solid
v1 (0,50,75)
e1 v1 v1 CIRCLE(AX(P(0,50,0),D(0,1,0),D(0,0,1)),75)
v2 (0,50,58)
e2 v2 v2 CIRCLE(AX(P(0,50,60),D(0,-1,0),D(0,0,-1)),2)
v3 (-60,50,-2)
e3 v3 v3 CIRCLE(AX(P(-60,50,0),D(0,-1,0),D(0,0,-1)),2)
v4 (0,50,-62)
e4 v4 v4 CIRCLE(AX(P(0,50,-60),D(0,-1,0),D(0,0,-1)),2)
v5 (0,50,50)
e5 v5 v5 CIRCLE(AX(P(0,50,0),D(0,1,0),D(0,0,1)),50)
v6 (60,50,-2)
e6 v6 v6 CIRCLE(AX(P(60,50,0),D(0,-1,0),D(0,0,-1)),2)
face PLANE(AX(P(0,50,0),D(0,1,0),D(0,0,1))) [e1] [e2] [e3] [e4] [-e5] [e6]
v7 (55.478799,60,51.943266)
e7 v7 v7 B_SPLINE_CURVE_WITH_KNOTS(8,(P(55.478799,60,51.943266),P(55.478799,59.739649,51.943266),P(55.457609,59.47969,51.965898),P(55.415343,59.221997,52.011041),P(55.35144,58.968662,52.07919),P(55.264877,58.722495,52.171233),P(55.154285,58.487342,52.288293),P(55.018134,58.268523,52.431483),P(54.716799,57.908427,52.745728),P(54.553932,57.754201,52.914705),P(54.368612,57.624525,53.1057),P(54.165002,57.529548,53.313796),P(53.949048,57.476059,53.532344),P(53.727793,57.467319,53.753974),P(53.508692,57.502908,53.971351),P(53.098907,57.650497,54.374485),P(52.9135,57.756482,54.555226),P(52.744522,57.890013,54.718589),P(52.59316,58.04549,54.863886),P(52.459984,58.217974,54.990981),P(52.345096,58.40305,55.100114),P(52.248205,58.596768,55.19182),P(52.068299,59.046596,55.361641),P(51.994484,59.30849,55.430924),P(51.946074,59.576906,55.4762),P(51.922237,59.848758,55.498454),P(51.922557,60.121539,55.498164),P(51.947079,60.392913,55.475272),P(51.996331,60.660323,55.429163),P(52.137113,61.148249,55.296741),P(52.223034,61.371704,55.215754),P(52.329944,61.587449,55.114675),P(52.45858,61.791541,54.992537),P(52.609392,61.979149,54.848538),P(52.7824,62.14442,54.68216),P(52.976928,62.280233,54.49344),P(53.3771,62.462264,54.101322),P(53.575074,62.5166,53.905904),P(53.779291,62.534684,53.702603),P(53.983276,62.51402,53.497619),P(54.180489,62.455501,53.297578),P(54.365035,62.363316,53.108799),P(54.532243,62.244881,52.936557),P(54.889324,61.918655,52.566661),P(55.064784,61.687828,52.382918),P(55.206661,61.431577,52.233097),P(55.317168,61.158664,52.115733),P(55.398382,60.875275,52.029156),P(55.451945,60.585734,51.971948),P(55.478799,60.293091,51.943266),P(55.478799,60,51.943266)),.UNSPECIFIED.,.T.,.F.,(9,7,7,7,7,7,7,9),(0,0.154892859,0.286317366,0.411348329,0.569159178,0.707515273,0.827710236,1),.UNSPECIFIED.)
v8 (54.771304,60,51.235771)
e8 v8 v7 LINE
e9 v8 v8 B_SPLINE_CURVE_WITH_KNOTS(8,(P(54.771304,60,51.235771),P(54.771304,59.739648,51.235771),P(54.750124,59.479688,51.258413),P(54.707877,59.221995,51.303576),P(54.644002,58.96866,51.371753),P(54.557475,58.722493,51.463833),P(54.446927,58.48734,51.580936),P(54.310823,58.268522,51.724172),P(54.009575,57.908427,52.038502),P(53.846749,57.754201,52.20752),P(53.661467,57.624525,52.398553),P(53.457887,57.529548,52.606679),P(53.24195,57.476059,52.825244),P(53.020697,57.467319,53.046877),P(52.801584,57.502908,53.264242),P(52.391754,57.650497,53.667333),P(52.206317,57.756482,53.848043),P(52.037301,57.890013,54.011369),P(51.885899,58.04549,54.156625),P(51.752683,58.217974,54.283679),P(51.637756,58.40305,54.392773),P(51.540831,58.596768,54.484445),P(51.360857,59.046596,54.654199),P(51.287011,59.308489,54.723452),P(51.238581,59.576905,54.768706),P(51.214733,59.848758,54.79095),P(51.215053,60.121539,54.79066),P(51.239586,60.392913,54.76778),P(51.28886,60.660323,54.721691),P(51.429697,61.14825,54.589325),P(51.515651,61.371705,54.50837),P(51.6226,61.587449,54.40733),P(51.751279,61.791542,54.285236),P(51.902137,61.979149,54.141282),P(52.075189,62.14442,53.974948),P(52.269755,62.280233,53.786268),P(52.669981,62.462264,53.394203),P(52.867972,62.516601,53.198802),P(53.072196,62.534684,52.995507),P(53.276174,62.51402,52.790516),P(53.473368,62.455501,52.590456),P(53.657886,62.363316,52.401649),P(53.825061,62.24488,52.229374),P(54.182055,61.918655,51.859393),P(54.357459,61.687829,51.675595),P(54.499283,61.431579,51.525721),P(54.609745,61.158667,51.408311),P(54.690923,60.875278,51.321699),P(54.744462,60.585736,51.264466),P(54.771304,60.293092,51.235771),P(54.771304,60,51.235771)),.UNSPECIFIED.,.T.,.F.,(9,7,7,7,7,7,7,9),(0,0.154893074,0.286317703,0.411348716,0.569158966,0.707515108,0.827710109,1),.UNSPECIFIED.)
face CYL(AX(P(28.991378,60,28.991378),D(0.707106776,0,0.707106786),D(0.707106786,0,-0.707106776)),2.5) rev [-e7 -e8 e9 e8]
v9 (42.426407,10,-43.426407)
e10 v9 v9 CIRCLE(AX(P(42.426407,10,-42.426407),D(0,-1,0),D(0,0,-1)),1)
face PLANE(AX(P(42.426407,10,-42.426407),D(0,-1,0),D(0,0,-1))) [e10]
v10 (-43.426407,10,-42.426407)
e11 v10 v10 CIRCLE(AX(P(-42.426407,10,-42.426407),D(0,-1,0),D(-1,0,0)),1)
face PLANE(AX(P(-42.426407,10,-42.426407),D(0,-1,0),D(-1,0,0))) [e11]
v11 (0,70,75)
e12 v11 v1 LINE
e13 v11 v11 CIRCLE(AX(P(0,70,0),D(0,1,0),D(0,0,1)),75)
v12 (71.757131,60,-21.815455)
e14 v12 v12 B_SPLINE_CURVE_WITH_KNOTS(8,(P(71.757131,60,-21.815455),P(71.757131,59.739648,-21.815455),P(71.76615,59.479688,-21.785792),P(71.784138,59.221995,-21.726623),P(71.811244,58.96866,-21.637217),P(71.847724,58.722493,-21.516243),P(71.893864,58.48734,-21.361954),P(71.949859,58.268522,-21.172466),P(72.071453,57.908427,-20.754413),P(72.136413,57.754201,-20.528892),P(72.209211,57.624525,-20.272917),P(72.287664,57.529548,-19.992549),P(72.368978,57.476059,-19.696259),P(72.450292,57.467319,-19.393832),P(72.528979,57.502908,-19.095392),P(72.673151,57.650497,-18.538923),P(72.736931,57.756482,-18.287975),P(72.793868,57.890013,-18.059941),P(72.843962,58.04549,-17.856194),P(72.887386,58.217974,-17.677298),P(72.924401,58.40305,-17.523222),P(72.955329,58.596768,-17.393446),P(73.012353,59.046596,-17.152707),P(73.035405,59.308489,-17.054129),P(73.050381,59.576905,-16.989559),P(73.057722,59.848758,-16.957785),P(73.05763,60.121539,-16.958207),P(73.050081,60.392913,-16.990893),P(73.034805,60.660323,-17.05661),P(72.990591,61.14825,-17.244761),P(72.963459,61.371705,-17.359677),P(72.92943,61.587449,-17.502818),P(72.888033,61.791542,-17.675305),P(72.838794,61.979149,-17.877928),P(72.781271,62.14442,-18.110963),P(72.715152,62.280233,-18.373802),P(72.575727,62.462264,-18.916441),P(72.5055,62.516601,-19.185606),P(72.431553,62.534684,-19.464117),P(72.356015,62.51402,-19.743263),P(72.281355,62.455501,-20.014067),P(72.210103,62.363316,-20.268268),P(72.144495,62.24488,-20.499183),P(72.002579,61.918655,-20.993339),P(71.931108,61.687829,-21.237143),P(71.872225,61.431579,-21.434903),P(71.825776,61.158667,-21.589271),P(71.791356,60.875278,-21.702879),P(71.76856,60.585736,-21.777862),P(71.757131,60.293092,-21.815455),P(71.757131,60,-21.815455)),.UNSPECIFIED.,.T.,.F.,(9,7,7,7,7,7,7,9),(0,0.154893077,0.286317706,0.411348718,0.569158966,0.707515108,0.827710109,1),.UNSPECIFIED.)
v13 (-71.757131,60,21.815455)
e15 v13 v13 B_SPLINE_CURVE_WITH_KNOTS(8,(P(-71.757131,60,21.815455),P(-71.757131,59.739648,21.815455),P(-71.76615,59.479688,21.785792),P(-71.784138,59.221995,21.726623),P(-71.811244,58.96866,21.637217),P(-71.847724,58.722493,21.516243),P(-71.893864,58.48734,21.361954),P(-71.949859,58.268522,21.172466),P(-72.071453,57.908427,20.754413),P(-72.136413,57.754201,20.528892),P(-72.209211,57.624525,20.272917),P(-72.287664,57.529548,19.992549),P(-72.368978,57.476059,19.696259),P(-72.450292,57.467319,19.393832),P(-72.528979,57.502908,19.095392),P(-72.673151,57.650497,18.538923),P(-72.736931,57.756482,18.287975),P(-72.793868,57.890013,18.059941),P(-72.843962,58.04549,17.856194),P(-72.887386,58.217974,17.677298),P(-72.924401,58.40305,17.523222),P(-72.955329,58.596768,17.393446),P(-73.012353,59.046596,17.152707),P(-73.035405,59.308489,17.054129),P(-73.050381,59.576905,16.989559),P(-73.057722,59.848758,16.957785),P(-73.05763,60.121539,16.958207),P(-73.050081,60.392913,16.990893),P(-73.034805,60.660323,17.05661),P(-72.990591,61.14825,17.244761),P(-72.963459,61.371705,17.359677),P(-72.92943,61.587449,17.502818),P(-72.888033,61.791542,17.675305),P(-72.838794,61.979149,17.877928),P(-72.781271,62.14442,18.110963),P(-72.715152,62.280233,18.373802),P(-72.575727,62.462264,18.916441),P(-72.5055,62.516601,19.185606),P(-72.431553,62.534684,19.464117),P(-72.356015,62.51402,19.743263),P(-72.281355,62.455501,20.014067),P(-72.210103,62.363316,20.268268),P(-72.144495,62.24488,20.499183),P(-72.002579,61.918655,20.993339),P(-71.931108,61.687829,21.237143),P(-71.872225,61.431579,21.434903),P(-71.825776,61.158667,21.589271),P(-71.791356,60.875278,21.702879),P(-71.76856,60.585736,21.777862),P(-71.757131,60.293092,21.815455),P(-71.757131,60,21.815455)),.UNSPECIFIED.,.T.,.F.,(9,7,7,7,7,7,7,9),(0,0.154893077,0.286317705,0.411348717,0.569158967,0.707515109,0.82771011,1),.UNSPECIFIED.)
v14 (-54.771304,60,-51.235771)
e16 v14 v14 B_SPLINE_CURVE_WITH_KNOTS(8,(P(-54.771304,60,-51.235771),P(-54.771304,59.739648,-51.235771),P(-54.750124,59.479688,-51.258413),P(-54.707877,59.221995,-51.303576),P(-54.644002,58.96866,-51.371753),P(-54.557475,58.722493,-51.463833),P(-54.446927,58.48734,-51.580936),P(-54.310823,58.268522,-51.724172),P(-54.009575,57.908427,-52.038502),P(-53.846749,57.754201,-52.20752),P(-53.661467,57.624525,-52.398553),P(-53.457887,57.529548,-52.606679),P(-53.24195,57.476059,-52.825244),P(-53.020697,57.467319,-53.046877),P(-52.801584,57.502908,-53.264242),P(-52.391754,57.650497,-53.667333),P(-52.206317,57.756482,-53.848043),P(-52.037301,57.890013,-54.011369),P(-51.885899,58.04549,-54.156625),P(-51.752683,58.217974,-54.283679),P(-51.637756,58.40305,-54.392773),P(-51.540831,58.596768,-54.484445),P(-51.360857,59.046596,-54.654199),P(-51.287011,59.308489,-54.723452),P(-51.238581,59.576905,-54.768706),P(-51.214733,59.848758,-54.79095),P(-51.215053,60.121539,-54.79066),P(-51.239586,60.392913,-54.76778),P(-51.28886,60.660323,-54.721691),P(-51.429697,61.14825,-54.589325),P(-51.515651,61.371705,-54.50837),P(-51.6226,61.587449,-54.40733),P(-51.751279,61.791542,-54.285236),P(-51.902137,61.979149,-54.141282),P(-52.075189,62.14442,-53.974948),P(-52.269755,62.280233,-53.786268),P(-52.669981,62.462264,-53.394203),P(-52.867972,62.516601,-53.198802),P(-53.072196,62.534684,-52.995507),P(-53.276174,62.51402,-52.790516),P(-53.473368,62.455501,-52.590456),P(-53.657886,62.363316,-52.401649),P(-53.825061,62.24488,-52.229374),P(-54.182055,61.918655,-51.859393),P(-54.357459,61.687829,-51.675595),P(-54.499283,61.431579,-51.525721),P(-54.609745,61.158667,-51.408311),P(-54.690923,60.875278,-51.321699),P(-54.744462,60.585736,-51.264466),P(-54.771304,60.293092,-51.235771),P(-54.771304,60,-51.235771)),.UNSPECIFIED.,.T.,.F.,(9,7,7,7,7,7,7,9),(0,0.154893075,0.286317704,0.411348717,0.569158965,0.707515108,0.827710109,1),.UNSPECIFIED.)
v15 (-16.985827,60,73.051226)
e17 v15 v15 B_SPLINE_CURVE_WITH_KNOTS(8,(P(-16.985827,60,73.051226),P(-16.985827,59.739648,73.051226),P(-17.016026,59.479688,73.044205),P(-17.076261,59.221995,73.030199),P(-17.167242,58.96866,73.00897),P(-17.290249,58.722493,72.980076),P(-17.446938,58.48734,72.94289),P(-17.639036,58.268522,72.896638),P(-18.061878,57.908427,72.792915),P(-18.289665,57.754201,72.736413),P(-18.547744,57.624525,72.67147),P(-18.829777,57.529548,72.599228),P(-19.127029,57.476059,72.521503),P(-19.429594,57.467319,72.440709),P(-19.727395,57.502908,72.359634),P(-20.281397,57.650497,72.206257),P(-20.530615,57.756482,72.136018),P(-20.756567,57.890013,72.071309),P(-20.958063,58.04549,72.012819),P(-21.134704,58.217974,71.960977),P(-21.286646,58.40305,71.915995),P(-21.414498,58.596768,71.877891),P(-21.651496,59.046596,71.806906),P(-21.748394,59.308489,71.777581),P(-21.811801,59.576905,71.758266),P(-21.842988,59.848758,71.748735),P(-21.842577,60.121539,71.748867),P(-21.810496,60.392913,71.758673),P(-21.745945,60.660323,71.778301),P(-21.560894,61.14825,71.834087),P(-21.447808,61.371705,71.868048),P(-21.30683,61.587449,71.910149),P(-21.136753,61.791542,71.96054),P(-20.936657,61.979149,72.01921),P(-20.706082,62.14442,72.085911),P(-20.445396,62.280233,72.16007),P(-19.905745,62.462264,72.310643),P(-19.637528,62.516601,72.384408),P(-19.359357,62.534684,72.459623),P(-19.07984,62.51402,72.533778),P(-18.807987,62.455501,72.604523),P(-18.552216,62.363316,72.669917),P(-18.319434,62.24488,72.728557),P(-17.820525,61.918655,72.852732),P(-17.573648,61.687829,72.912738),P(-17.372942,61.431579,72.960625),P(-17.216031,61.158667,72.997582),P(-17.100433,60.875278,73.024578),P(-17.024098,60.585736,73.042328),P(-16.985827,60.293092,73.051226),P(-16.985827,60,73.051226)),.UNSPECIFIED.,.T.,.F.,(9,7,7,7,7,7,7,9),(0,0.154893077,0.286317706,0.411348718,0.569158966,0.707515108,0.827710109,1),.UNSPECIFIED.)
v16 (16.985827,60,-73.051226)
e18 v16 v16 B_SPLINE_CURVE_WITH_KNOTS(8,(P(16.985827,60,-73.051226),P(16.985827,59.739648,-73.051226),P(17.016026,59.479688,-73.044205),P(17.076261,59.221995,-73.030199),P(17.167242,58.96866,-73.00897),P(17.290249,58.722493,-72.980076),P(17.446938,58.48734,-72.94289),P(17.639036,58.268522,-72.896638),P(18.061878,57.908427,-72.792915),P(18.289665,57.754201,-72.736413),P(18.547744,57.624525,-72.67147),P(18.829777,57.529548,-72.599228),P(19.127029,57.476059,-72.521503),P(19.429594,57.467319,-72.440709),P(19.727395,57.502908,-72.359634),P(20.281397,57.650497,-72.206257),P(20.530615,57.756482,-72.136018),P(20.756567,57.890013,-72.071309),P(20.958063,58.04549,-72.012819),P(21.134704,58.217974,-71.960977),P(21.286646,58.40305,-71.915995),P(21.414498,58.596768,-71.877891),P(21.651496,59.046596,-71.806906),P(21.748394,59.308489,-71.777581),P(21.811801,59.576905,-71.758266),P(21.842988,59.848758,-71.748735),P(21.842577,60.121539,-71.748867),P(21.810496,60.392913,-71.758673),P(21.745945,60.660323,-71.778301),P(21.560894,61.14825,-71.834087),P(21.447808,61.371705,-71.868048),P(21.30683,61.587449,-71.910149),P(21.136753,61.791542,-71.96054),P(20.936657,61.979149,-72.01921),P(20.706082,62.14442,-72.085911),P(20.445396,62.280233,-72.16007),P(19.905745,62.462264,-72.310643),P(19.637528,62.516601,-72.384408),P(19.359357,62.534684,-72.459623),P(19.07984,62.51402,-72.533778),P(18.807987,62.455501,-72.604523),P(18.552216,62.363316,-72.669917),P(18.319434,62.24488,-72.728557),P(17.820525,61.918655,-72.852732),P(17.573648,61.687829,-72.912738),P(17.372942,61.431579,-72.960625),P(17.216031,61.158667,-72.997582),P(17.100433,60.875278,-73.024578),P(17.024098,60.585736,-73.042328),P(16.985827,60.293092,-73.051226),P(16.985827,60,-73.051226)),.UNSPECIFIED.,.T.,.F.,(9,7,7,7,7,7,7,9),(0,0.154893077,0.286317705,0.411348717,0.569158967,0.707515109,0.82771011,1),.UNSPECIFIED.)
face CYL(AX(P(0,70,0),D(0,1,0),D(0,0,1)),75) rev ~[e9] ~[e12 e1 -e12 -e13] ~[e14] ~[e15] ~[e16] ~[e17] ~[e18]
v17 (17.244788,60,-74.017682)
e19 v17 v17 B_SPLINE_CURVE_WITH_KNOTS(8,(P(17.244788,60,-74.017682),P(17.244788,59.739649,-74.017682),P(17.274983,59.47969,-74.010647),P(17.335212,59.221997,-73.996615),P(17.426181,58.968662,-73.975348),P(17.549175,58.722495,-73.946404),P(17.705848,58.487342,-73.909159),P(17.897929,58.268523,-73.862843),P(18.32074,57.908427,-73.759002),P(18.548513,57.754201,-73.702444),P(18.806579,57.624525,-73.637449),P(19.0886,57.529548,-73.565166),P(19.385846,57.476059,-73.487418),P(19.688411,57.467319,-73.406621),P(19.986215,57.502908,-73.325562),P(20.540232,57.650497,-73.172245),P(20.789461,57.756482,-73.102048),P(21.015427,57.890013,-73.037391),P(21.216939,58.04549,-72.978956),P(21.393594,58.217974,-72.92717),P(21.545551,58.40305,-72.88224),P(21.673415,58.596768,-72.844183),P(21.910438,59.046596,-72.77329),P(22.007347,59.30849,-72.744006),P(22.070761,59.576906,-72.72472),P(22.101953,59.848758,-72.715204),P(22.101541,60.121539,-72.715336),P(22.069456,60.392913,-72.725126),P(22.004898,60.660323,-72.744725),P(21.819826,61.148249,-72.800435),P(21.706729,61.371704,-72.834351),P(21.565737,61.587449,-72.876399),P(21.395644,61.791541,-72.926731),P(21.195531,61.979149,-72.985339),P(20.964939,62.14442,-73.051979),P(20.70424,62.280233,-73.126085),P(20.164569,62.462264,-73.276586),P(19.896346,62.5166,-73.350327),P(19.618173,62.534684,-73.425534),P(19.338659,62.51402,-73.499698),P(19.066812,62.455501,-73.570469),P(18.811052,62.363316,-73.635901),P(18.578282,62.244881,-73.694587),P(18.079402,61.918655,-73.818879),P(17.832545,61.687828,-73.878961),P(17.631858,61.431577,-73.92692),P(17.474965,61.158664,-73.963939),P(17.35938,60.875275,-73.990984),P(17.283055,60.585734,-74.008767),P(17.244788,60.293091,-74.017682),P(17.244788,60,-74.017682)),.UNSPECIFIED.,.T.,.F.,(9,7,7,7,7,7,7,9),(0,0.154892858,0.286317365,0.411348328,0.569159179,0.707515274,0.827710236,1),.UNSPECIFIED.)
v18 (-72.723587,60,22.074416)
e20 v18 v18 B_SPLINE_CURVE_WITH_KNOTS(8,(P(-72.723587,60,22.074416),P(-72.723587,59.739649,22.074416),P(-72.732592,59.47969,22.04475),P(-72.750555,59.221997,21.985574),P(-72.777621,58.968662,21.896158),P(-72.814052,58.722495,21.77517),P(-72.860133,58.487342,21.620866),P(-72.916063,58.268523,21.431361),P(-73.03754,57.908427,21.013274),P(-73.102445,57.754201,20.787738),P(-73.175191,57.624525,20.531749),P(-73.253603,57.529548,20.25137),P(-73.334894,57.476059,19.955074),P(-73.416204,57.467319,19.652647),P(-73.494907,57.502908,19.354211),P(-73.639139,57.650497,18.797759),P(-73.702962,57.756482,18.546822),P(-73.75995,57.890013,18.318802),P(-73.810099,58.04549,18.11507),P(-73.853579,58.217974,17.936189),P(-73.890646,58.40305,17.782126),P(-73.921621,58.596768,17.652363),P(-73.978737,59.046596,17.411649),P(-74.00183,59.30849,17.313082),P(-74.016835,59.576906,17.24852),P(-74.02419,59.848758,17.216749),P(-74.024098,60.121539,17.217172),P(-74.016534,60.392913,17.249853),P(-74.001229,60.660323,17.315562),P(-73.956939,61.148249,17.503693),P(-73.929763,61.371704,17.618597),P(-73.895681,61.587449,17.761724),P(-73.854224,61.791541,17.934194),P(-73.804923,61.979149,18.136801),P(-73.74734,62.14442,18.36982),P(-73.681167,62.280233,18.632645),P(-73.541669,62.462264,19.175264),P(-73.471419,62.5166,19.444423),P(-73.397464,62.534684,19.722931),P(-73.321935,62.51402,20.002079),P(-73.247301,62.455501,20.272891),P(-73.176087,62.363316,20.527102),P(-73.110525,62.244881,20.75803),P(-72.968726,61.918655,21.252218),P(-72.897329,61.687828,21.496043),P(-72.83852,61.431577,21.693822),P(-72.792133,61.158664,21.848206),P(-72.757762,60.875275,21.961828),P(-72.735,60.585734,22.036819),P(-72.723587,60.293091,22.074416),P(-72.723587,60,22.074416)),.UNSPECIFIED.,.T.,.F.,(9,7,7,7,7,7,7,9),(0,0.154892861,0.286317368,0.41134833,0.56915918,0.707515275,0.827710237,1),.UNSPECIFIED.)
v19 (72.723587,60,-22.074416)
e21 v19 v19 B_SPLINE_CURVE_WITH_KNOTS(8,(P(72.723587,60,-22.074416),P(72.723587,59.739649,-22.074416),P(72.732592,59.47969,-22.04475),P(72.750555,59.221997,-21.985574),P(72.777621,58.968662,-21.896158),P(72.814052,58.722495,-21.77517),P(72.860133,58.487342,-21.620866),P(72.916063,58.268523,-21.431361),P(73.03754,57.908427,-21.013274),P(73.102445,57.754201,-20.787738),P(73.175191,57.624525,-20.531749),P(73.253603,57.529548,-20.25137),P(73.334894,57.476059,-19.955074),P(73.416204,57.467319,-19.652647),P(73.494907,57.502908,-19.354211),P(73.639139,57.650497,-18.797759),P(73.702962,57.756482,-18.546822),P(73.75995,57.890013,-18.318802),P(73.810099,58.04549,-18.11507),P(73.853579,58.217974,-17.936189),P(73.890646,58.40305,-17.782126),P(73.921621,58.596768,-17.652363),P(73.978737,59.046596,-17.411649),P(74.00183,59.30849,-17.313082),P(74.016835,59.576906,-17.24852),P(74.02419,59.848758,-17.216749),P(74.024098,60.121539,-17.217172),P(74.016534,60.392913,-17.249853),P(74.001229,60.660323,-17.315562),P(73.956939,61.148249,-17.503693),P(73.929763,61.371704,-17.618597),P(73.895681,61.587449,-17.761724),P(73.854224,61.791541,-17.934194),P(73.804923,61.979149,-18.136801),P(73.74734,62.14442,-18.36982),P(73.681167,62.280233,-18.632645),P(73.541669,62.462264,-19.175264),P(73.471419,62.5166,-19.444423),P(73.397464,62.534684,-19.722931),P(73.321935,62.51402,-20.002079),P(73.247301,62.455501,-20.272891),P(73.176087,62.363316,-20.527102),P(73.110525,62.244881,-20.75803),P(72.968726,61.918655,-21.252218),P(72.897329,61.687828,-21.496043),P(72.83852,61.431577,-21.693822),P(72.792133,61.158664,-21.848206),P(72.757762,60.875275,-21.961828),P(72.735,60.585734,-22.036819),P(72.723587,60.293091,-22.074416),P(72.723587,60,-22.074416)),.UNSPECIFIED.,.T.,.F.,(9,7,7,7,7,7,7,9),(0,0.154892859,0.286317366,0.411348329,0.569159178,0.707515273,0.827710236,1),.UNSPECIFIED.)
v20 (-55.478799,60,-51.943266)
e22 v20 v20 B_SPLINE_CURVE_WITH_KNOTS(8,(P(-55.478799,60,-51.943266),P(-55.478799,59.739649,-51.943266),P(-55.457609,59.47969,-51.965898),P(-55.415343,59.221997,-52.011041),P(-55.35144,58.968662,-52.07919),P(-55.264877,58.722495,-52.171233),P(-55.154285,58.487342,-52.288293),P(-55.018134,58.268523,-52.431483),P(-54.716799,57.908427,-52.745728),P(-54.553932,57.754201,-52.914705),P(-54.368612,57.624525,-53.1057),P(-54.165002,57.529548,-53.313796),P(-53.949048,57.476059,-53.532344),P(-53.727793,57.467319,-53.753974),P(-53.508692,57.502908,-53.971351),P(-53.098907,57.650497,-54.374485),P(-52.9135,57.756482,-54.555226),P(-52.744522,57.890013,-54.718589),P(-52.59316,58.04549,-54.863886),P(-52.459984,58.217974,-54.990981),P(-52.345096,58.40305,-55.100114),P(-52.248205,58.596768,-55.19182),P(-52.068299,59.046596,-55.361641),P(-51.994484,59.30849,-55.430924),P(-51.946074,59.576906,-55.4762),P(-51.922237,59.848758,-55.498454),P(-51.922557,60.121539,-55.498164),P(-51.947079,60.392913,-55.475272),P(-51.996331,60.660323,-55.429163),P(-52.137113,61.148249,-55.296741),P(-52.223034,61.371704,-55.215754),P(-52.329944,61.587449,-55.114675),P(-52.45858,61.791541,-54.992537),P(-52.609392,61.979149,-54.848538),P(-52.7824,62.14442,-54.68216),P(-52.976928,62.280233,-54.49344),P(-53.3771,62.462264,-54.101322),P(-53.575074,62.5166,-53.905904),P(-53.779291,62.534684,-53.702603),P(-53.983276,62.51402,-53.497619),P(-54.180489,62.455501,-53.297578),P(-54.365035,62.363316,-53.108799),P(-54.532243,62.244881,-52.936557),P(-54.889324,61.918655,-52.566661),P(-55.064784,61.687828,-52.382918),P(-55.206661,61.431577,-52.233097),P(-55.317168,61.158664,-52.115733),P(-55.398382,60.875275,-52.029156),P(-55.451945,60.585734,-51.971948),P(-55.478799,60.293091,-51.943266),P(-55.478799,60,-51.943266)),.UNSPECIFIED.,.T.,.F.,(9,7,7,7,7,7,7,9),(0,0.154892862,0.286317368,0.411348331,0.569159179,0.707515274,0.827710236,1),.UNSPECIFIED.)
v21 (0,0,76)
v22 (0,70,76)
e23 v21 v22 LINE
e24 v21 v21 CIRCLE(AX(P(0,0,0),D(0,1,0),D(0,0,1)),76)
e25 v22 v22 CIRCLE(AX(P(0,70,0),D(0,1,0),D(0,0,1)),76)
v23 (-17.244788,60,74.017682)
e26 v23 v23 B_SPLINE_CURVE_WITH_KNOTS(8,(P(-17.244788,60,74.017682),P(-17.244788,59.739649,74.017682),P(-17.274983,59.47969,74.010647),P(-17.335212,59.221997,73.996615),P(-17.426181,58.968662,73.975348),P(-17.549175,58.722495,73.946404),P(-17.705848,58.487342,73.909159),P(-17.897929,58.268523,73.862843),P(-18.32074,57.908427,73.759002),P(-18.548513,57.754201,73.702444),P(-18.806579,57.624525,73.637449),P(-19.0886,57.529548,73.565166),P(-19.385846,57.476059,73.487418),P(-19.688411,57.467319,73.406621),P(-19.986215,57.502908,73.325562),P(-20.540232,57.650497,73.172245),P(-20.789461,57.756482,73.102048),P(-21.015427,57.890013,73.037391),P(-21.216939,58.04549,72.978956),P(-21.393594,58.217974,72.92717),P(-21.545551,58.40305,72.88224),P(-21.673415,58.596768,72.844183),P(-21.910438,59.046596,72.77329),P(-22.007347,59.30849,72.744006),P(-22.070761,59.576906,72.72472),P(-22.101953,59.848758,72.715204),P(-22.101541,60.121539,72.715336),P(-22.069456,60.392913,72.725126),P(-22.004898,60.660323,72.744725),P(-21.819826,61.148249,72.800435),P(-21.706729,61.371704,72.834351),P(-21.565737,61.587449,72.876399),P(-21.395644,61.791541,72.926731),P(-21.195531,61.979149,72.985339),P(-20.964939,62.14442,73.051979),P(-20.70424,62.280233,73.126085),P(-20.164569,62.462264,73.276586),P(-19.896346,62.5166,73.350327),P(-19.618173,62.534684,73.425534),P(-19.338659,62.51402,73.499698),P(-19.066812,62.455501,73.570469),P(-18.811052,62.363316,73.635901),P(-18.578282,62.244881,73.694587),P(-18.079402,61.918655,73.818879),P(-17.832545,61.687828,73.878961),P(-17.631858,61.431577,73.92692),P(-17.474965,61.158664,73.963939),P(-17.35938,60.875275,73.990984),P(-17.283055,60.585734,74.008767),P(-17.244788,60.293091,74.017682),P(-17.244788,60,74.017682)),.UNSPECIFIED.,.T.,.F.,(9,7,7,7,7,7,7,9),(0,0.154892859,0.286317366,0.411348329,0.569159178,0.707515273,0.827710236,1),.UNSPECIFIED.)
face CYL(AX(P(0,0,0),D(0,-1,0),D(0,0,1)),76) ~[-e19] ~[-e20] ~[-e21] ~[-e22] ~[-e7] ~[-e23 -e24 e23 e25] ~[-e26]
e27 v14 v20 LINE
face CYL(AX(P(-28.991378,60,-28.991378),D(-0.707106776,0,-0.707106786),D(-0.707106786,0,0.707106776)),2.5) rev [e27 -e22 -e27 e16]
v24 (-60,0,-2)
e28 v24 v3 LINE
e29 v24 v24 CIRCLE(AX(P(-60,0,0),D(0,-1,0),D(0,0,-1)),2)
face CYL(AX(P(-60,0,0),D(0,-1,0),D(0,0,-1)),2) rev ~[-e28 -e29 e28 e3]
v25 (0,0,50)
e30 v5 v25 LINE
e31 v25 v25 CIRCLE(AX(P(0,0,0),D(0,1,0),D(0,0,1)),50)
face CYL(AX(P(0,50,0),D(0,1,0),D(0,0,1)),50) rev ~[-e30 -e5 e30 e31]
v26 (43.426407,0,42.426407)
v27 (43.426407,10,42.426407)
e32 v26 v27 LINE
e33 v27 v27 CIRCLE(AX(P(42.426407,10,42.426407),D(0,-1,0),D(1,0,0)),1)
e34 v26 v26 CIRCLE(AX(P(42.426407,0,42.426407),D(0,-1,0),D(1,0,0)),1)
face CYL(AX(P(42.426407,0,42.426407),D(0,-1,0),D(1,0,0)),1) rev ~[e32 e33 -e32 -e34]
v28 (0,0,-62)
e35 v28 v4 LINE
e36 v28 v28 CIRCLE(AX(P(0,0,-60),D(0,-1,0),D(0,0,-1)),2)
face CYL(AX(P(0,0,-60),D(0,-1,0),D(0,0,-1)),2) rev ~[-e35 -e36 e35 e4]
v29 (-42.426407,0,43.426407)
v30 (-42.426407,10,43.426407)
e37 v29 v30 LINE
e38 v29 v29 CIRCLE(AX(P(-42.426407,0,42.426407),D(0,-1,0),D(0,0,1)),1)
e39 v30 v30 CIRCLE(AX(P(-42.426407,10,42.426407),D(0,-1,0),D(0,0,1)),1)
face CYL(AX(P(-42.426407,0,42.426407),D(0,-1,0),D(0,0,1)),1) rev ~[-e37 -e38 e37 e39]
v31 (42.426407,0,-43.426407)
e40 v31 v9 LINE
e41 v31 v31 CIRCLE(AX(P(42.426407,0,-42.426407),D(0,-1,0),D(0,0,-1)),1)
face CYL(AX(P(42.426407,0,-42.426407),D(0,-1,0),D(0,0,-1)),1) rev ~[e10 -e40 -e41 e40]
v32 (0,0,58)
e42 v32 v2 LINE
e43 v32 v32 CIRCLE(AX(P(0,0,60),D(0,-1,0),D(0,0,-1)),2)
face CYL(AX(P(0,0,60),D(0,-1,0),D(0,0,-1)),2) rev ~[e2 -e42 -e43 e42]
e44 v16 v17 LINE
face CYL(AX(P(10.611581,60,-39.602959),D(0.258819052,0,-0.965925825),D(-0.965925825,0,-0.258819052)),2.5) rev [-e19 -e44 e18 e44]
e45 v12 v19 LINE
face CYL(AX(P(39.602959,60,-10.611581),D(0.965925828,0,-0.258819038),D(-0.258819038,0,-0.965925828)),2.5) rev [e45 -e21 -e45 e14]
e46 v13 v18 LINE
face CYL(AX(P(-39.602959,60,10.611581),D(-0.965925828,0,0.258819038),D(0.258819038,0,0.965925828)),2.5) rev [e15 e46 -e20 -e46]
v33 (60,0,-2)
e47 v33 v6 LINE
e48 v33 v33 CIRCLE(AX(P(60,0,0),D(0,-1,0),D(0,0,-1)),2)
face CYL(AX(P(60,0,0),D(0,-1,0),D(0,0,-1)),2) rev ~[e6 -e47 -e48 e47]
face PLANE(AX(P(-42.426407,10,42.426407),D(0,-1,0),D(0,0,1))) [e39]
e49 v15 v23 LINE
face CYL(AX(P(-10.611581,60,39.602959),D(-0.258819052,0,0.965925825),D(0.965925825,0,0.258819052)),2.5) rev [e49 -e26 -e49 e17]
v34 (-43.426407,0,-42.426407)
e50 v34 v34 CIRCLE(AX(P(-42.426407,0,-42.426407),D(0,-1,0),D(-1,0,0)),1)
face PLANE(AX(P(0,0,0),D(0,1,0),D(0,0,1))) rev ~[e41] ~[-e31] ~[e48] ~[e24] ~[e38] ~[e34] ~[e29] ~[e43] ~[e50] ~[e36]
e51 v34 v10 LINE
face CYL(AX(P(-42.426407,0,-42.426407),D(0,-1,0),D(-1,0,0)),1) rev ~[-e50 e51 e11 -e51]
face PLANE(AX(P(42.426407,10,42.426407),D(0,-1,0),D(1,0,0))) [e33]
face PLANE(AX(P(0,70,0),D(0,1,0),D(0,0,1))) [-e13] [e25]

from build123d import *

# Parameters (mm, degrees)
SKETCH_1_R               = 76
EXTRUDE_1_DEPTH          = 70
SKETCH_2_R               = 75
CUT_EXTRUDE_1_DEPTH      = 20
SKETCH_3_R               = 50
CUT_EXTRUDE_3_DEPTH      = 50
SKETCH_4_R               = 2
CUT_EXTRUDE_6_DEPTH      = 70
SKETCH_5_R               = 1
CUT_EXTRUDE_7_DEPTH      = 10
PATTERN_CIRCULAR_1_COUNT = 4
PATTERN_CIRCULAR_2_COUNT = 6


with BuildPart() as part:
    # 草圖1 → 填料-伸長1 (new body)
    with BuildSketch(Plane(origin=(0, 0, 0), x_dir=(1, 0, 0), z_dir=(0, 1, 0))):
        with Locations(Location((0, 0, 0), (0, 0, 270))):
            Circle(SKETCH_1_R)
    extrude(amount=EXTRUDE_1_DEPTH)

    # 草圖2 → 除料-伸長1 (cut)
    with BuildSketch(Plane(origin=(0, 70, 0), x_dir=(1, 0, 0), z_dir=(0, 1, 0))):
        with Locations(Location((0, 0, 0), (0, 0, 270))):
            Circle(SKETCH_2_R)
    extrude(amount=-CUT_EXTRUDE_1_DEPTH, mode=Mode.SUBTRACT)

    # 草圖3 → 除料-伸長3 (cut)
    with BuildSketch(Plane(origin=(0, 50, 0), x_dir=(1, 0, 0), z_dir=(0, 1, 0))):
        with Locations(Location((0, 0, 0), (0, 0, 270))):
            Circle(SKETCH_3_R)
    extrude(amount=-CUT_EXTRUDE_3_DEPTH, mode=Mode.SUBTRACT)

    # 草圖4 → 除料-伸長6 (cut)
    with BuildSketch(Plane.XZ):
        with Locations(Location((-60, 0, 0), (0, 0, 270))):
            Circle(SKETCH_4_R)
        with Locations(Location((0, 60, 0), (0, 0, 270))):
            Circle(SKETCH_4_R)
        with Locations(Location((60, 0, 0), (0, 0, 270))):
            Circle(SKETCH_4_R)
        with Locations(Location((0, -60, 0), (0, 0, 270))):
            Circle(SKETCH_4_R)
    extrude(amount=-CUT_EXTRUDE_6_DEPTH, mode=Mode.SUBTRACT)

    # 草圖5 → 除料-伸長7 (cut)
    with BuildSketch(Plane(origin=(0, 0, 0), x_dir=(-1, 0, 0), z_dir=(0, -1, 0))):
        with Locations(Location((-42.426406871, 42.426406871, 0), (0, 0, 90))):
            Circle(SKETCH_5_R)
    cut_extrude_7 = extrude(amount=-CUT_EXTRUDE_7_DEPTH, mode=Mode.SUBTRACT)

    # 環狀複製排列1: 除料-伸長7 ×4 about axis
    pattern_circular_1_axis = Axis((0, 0, 0), (0, 1, 0))
    for i in range(1, PATTERN_CIRCULAR_1_COUNT):
        add(cut_extrude_7.rotate(pattern_circular_1_axis, i * 360 / PATTERN_CIRCULAR_1_COUNT), mode=Mode.SUBTRACT)

    # 草圖7 → M6  螺絲攻的螺孔鑽1 (revolve, cut)
    with BuildSketch(Plane(origin=(53.740115, 60, 53.74011574), x_dir=(0.7071067860573056, 0, -0.7071067763157894), z_dir=(0, 1, 0))):
        Polygon((0, 0), (0, 36.502151548), (2.5, 35), (2.5, 0), align=None)
    hole_wizard_m6_1 = revolve(axis=Axis((58.23024303, 60, 58.230243832), (-0.7071067763157894, 0, -0.7071067860573056)), mode=Mode.SUBTRACT)

    # 環狀複製排列2: M6  螺絲攻的螺孔鑽1 ×6 about axis
    pattern_circular_2_axis = Axis((0, 70, 0), (0, 1, 0))
    for i in range(1, PATTERN_CIRCULAR_2_COUNT):
        add(hole_wizard_m6_1.rotate(pattern_circular_2_axis, i * 360 / PATTERN_CIRCULAR_2_COUNT), mode=Mode.SUBTRACT)


solid = part.part
